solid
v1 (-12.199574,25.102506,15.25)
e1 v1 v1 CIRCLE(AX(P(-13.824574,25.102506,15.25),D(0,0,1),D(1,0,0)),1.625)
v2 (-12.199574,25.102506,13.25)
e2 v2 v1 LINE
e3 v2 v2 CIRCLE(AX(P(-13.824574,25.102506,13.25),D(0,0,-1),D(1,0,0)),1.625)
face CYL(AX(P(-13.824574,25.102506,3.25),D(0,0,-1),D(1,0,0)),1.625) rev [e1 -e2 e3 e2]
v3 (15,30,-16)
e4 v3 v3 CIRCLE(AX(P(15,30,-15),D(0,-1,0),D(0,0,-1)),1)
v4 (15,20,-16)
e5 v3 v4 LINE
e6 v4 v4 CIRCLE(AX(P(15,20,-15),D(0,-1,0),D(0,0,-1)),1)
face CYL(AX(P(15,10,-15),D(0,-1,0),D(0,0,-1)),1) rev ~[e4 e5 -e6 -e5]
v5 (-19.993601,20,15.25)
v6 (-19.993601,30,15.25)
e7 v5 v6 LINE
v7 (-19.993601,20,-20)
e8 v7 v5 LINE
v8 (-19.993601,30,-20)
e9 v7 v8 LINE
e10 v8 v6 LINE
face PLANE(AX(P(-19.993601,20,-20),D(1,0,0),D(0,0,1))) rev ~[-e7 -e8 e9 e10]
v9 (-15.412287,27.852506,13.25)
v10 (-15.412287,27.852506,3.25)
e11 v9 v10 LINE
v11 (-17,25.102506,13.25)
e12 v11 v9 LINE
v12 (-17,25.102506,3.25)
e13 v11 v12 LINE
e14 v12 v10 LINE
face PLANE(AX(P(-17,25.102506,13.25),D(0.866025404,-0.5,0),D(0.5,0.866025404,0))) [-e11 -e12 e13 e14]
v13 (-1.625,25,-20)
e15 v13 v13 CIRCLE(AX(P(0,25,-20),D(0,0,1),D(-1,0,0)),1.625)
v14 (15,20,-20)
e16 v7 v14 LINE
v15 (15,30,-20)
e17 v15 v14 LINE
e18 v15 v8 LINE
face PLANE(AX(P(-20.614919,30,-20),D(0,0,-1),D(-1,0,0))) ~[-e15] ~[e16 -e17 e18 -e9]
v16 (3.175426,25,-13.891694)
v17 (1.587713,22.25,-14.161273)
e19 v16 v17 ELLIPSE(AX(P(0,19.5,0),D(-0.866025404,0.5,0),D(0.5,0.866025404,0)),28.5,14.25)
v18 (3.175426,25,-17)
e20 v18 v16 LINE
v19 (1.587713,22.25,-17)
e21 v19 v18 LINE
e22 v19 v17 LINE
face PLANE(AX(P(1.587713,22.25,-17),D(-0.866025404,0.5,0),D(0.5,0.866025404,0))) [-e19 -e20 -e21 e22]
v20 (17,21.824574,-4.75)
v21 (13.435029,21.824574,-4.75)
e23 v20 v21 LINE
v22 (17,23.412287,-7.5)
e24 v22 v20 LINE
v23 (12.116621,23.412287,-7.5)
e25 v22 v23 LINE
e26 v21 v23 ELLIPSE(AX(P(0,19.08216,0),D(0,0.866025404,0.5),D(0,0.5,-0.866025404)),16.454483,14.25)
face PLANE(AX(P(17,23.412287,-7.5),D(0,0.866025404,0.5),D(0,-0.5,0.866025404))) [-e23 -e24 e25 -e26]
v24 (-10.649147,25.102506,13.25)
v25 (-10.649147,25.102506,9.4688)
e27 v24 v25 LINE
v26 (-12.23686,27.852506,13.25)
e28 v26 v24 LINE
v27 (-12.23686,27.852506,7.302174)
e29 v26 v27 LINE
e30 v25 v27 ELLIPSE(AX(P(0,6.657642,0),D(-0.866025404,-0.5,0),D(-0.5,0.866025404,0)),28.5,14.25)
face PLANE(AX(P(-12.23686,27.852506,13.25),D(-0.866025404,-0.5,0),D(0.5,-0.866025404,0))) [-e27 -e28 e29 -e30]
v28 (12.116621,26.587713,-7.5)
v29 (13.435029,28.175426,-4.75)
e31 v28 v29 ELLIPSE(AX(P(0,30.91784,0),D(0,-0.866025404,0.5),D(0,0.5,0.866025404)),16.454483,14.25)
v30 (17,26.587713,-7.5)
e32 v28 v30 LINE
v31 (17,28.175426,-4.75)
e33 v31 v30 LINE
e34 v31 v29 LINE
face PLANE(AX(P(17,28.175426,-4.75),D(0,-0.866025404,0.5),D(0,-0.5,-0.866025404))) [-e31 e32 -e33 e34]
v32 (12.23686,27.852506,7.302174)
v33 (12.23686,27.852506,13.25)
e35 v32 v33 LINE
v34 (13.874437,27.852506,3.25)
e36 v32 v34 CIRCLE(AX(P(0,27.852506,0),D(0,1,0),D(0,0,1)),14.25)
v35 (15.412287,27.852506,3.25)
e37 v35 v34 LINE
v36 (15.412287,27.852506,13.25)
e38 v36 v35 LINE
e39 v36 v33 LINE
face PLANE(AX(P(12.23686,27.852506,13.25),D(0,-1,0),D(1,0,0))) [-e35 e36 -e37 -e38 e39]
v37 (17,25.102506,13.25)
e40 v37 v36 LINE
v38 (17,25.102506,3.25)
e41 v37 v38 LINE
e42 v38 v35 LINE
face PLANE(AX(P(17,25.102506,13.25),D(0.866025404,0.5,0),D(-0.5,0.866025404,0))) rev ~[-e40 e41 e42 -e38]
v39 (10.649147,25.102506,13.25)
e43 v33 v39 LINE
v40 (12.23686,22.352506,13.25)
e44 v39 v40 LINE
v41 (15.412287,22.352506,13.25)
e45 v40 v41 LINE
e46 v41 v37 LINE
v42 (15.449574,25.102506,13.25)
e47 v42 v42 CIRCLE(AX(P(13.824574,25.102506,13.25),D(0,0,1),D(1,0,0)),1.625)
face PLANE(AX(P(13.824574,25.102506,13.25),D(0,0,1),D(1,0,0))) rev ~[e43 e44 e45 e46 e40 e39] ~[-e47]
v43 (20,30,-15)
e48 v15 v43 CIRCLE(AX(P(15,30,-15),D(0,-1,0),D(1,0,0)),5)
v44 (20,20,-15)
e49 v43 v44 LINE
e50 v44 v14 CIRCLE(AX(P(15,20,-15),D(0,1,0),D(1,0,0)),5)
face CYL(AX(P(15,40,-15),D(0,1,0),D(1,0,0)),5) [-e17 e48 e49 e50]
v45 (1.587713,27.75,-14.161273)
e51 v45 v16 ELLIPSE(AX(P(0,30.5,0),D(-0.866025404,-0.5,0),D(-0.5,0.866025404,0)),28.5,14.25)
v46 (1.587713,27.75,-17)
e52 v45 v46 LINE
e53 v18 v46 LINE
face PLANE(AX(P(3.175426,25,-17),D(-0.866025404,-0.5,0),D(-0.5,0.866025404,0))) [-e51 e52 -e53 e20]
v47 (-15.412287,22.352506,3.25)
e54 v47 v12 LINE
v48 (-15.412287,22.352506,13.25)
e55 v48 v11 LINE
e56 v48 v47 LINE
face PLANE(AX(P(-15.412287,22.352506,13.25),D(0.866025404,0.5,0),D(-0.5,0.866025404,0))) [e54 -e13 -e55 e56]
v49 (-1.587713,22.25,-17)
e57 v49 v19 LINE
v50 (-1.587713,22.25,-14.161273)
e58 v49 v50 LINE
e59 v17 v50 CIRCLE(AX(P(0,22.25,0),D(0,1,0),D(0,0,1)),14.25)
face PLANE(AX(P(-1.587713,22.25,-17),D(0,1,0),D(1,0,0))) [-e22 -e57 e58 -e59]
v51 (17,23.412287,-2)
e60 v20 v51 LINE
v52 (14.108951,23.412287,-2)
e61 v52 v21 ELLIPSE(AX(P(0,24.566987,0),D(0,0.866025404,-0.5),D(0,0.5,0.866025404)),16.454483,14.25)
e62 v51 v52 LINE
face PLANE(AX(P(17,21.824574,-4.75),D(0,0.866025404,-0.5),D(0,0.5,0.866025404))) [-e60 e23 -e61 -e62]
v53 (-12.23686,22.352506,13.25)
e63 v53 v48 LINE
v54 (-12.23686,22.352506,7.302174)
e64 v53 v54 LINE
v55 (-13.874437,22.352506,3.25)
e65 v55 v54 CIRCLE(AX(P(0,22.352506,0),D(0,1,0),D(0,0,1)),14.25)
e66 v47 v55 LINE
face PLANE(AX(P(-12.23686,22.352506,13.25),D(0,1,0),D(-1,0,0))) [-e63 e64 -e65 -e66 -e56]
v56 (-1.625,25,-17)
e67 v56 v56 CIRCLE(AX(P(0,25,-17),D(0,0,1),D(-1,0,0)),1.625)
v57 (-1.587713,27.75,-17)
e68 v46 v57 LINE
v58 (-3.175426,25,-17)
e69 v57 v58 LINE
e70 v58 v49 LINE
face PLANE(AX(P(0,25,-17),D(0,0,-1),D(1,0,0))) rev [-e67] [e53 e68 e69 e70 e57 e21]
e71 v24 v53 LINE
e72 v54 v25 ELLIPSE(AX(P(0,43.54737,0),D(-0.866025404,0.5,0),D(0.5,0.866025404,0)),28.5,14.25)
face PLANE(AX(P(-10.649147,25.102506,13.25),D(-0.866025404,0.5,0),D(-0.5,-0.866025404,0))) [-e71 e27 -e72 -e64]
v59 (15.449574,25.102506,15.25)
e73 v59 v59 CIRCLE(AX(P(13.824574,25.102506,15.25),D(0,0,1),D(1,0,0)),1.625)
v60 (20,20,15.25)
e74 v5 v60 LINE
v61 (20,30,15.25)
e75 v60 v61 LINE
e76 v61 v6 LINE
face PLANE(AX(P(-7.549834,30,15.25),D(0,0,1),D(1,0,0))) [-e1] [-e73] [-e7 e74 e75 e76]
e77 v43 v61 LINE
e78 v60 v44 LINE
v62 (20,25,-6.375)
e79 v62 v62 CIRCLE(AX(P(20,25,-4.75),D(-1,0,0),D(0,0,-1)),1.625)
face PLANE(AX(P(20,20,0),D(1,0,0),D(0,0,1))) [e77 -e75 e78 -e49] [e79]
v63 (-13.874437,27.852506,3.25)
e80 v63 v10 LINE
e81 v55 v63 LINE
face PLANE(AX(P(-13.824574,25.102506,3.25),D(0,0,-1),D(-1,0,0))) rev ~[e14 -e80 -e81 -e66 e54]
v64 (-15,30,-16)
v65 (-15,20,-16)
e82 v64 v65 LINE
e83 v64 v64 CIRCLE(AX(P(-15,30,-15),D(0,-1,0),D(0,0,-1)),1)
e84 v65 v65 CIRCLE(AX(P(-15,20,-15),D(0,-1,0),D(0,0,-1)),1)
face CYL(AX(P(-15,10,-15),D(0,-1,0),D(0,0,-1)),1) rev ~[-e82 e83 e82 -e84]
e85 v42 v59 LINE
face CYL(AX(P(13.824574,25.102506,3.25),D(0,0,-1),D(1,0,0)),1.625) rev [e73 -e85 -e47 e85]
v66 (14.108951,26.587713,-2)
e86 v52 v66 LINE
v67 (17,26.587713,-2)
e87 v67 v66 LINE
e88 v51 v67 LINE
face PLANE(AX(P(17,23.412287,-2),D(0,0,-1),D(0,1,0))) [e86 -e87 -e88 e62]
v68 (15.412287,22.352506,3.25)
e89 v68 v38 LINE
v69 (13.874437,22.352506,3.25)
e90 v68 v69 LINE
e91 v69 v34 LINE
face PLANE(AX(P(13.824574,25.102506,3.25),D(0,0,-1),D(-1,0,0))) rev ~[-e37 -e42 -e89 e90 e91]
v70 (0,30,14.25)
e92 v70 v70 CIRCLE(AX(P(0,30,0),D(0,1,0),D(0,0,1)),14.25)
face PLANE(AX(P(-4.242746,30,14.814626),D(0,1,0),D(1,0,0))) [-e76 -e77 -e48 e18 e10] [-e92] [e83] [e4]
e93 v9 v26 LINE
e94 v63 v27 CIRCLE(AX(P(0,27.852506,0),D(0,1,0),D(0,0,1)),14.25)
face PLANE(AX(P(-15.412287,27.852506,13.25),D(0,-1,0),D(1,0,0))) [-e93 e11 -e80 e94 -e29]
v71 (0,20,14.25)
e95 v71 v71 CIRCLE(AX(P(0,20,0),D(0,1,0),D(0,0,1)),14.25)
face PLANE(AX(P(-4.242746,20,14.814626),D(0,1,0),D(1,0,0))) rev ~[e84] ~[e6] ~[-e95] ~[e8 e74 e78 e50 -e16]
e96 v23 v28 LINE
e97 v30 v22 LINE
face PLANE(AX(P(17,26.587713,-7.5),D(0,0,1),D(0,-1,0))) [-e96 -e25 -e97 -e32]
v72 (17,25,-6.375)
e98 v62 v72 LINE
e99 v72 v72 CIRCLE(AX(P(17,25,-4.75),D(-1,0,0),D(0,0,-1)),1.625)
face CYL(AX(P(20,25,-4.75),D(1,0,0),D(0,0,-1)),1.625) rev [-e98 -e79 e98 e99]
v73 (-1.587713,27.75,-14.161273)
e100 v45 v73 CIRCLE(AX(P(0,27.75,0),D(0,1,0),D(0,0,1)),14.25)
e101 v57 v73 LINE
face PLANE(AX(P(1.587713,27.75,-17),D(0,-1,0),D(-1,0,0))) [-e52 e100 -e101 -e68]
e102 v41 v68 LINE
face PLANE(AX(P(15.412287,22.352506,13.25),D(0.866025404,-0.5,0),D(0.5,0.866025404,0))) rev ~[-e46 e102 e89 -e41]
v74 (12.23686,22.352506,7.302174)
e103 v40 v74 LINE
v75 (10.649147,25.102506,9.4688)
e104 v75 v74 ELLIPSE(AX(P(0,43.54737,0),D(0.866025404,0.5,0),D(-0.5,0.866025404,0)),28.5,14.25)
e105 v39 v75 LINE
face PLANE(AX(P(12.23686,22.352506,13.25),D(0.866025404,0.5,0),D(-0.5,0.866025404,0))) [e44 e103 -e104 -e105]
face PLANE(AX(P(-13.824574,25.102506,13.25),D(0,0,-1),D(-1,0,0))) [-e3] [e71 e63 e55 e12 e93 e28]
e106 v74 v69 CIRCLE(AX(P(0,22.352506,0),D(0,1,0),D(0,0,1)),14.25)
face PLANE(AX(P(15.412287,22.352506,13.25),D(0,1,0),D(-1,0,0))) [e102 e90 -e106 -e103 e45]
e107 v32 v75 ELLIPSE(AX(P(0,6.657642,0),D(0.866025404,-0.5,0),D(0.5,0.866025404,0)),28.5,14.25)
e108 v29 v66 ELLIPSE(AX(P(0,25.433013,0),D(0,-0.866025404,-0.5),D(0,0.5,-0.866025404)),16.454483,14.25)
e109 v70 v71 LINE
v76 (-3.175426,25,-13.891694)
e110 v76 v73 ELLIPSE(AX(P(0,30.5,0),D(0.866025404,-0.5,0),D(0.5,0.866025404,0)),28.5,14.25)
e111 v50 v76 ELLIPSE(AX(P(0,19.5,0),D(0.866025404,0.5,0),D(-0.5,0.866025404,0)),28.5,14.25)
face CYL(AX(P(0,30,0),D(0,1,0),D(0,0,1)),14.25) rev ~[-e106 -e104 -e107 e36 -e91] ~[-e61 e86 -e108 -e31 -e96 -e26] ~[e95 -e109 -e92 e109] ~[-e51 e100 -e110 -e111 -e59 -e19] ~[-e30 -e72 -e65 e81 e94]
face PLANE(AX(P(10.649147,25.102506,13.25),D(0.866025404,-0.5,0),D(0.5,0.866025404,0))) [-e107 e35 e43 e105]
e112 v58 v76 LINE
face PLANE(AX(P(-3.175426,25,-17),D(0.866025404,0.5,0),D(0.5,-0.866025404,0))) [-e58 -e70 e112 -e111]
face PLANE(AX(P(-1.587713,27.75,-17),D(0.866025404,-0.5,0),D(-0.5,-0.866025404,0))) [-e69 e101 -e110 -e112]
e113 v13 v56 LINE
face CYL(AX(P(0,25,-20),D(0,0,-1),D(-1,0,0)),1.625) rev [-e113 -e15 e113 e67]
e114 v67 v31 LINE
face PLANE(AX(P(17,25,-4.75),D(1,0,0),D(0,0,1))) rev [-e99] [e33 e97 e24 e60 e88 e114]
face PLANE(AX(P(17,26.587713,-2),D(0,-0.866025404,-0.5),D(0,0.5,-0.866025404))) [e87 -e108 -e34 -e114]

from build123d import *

# Parameters (mm, degrees)
CROQUIS1_R                              = 15.25
CROQUIS1_R_2                            = 2.125
SOPORTE_CAJA_REDUCTORA_DEPTH            = 20
CROQUIS3_R                              = 2.125
CORTAR_EXTRUIR1_DEPTH                   = 51.423828692
REDONDEO1_R                             = 5
BOSS_EXTRUDE1_DEPTH                     = 20
CUT_EXTRUDE1_REACH                      = 55.852
SKETCH2_R                               = 1.625
CUT_EXTRUDE2_DEPTH                      = 2
SKETCH4_R                               = 1.625
CUT_EXTRUDE3_DEPTH                      = 63.291652731
CUT_EXTRUDE4_START                      = -4.5
CUT_EXTRUDE4_DEPTH                      = 2
CROQUIS6_W                              = 4.75
CROQUIS6_H                              = 4.75
CORTAR_EXTRUIR17_DEPTH                  = 42.231056256
CROQUIS7_W                              = 60
CROQUIS7_H                              = 20
CORTAR_EXTRUIR18_DEPTH                  = 51.423828692
SALIENTE_EXTRUIR2_DEPTH                 = 49
SOPORTE_START                           = -15
SOPORTE_MOTOR_DEPTH                     = 15
CROQUIS12_R                             = 2.125
AGUJEROS_DE_SUJECION_A_BASE_DEPTH       = 84.087679592
TUERCA_START                            = -4
TUERCA_AGUJERO_DE_SUJECION_A_BASE_DEPTH = 10
SALIENTE_EXTRUIR4_DEPTH                 = 15
CORTAR_EXTRUIR19_DEPTH                  = 25
CROQUIS14_W                             = 50
CROQUIS14_H                             = 118
CORTAR_EXTRUIR22_DEPTH                  = 146.556045907
CROQUIS15_W                             = 10
CROQUIS15_H                             = 7
CORTAR_EXTRUIR23_DEPTH                  = 42.231056256
CORTAR_EXTRUIR24_DEPTH                  = 42.231056256
CROQUIS18_W                             = 40
CROQUIS18_H                             = 10
CORTAR_EXTRUIR25_DEPTH                  = 44.27311521
SALIENTE_EXTRUIR5_DEPTH                 = 10
CROQUIS20_R                             = 1
CORTAR_EXTRUIR26_DEPTH                  = 49.229270158
CORTAR_EXTRUIR27_REACH                  = 62.959
CORTAR_EXTRUIR27_END_RADIUS             = 15.25
CROQUIS21_R                             = 1.625
CROQUIS22_R                             = 2.125
CROQUIS22_R_2                           = 1
SALIENTE_EXTRUIR6_DEPTH                 = 10
CROQUIS23_R                             = 1.625
CORTAR_EXTRUIR28_DEPTH                  = 52.269508521
CORTAR_EXTRUIR29_START                  = -3
CORTAR_EXTRUIR29_DEPTH                  = 10
SALIENTE_EXTRUIR7_DEPTH                 = 10
CORTAR_EXTRUIR30_REACH                  = 72.235
CROQUIS27_R                             = 1.625
CORTAR_EXTRUIR31_REACH                  = 75.235
CORTAR_EXTRUIR31_START                  = -3
CORTAR_EXTRUIR32_REACH                  = 58.612
CROQUIS29_R                             = 1.625
CORTAR_EXTRUIR33_REACH                  = 61.112
CORTAR_EXTRUIR33_START                  = -2.5
CROQUIS35_W                             = 13.305418987
CROQUIS35_H                             = 6.826864192
CORTAR_EXTRUIR34_DEPTH                  = 63.931555098
CORTAR_EXTRUIR34_DEPTH_BACK             = 63.931555098
CORTAR_EXTRUIR35_START                  = -3
CORTAR_EXTRUIR35_DEPTH                  = 10
SALIENTE_EXTRUIR8_DEPTH                 = 10
SALIENTE_EXTRUIR9_DEPTH                 = 13
SALIENTE_EXTRUIR10_DEPTH                = 3
CROQUIS40_W                             = 106.583537839
CROQUIS40_H                             = 47.391515964
CORTAR_EXTRUIR36_DEPTH                  = 80.887064817
CORTAR_EXTRUIR36_DEPTH_BACK             = 80.887064817
CORTAR_EXTRUIR37_DEPTH                  = 67.2524009
CORTAR_EXTRUIR37_DEPTH_BACK             = 67.2524009
CORTAR_EXTRUIR38_DEPTH                  = 79.704784639
CORTAR_EXTRUIR38_DEPTH_BACK             = 79.704784639
SALIENTE_EXTRUIR11_DEPTH                = 10
CORTAR_EXTRUIR39_DEPTH                  = 63.9908649
CROQUIS45_W                             = 31.470301378
CROQUIS45_H                             = 10
CROQUIS45_R                             = 1.625
SALIENTE_EXTRUIR12_DEPTH                = 2.5
SALIENTE_EXTRUIR13_DEPTH                = 10
CORTAR_EXTRUIR40_START                  = -2
CROQUIS47_R                             = 1.625
CORTAR_EXTRUIR40_DEPTH                  = 10
CORTAR_EXTRUIR41_START                  = -12
CROQUIS48_R                             = 1.625
CORTAR_EXTRUIR41_DEPTH                  = 12
CROQUIS49_W                             = 34.796066513
CROQUIS49_H                             = 42.211026982
CORTAR_EXTRUIR42_DEPTH                  = 52.795622989
CORTAR_EXTRUIR42_DEPTH_BACK             = 52.795622989
CROQUIS51_R                             = 15.25
CROQUIS51_R_2                           = 14.25
SALIENTE_EXTRUIR14_DEPTH                = 10
CORTAR_EXTRUIR43_DEPTH                  = 10
CORTAR_EXTRUIR44_DEPTH                  = 10
CORTAR_EXTRUIR45_DEPTH                  = 10
SALIENTE_EXTRUIR15_DEPTH                = 10


with BuildPart() as part:
    # Croquis1 → Soporte caja reductora (new body)
    with BuildSketch(Plane(origin=(0, 0, 0), x_dir=(1, 0, 0), z_dir=(0, 1, 0))):
        Polygon((-30, -15.25), (-20, -15.25), (-20, -20), (20, -20), (20, -15.25), (30, -15.25), (30, -7.25), (20, -4.25), (20, 20), (-20, 20), (-20, -4.25), (-30, -7.25), align=None)
        with Locations(Location((0, 0, 0), (0, 0, 270))):
            Circle(CROQUIS1_R, mode=Mode.SUBTRACT)
        with Locations(Location((-15, 15, 0), (0, 0, 270))):
            Circle(CROQUIS1_R_2, mode=Mode.SUBTRACT)
        with Locations(Location((15, 15, 0), (0, 0, 270))):
            Circle(CROQUIS1_R_2, mode=Mode.SUBTRACT)
    extrude(amount=-SOPORTE_CAJA_REDUCTORA_DEPTH)

    # Croquis3 → Cortar-Extruir1 (cut, through all)
    with BuildSketch(Plane.XY.offset(15.25)):
        with Locations((-23.5, -10)):
            Circle(CROQUIS3_R)
        with Locations((23.5, -10)):
            Circle(CROQUIS3_R)
    extrude(amount=-CORTAR_EXTRUIR1_DEPTH, mode=Mode.SUBTRACT)

    # Redondeo1
    redondeo1_edges = [part.edges().sort_by_distance(p)[0] for p in [
        (-20, -10, -20),
        (20, -10, -20),
    ]]
    fillet(redondeo1_edges, radius=REDONDEO1_R)

    # Sketch1 → Boss-Extrude1 (add)
    with BuildSketch(Plane(origin=(0, 0, 0), x_dir=(1, 0, 0), z_dir=(0, 1, 0))):
        with BuildLine():
            Line((25.5, 15), (20, 15))
            ThreePointArc((20, 15), (18.535533906, 18.535533906), (15, 20))
            Line((15, 20), (30, 20))
            Line((30, 20), (30, 8))
            Line((30, 8), (25.5, 8))
            Line((25.5, 8), (25.5, 15))
        make_face()
    extrude(amount=-BOSS_EXTRUDE1_DEPTH)

    # Sketch2 → Cut-Extrude1 (cut, up to next)
    with BuildSketch(Plane(origin=(0, 0, -20), x_dir=(-1, 0, 0), z_dir=(0, 0, -1)), mode=Mode.PRIVATE) as cut_extrude1_sk1:
        with Locations((-22.75, -10)):
            Circle(SKETCH2_R)
    cut_extrude1_tool1 = extrude(cut_extrude1_sk1.sketch, amount=-CUT_EXTRUDE1_REACH, mode=Mode.PRIVATE) & part.part
    add(cut_extrude1_tool1.solids().sort_by_distance((22.75, -10, -20))[0], mode=Mode.SUBTRACT)

    # Sketch3 → Cut-Extrude2 (cut)
    with BuildSketch(Plane.XY.offset(-15)):
        Polygon((20, -11.58771324), (22.75, -13.175426481), (25.5, -11.58771324), (25.5, -8.41228676), (22.75, -6.824573519), (20, -8.41228676), align=None)
    extrude(amount=-CUT_EXTRUDE2_DEPTH, mode=Mode.SUBTRACT)

    # Sketch4 → Cut-Extrude3 (cut, through all)
    with BuildSketch(Plane.ZY.offset(-25.5)):
        with Locations((-12.25, -10)):
            Circle(SKETCH4_R)
    extrude(amount=-CUT_EXTRUDE3_DEPTH, mode=Mode.SUBTRACT)

    # Sketch5 → Cut-Extrude4 (cut)
    with BuildSketch(Plane(origin=(30, 0, 0), x_dir=(0, 0, -1), z_dir=(1, 0, 0)).offset(CUT_EXTRUDE4_START)):
        Polygon((15, -11.58771324), (15, -8.41228676), (12.25, -6.824573519), (9.5, -8.41228676), (9.5, -11.58771324), (12.25, -13.175426481), align=None)
    extrude(amount=CUT_EXTRUDE4_DEPTH, mode=Mode.SUBTRACT)

    # Croquis6 → Cortar-Extruir17 (cut, through all)
    with BuildSketch(Plane(origin=(0, 0, 0), x_dir=(1, 0, 0), z_dir=(0, 1, 0))):
        Polygon((0, -15.25), (-15.25, -15.25), (-15.25, -20), (15.25, -20), (15.25, -15.25), align=None)
        with Locations((-17.625, -17.625)):
            Rectangle(CROQUIS6_W, CROQUIS6_H)
        with BuildLine():
            ThreePointArc((0, -15.25), (-10.783378413, -10.783378413), (-15.25, 0))
            Line((-15.25, 0), (-15.25, -15.25))
            Line((-15.25, -15.25), (0, -15.25))
        make_face()
        with BuildLine():
            Line((15.25, -15.25), (15.25, 0))
            ThreePointArc((15.25, 0), (10.783378413, -10.783378413), (0, -15.25))
            Line((0, -15.25), (15.25, -15.25))
        make_face()
        with Locations((17.625, -17.625)):
            Rectangle(CROQUIS6_W, CROQUIS6_H)
    extrude(amount=-CORTAR_EXTRUIR17_DEPTH, mode=Mode.SUBTRACT)


with BuildPart() as body_2:
    # Simetría1: mirrored copy
    add(part.part.mirror(Plane.ZX))

    # Croquis8 → Saliente-Extruir2 (add)
    with BuildSketch(Plane(origin=(0, 20, 0), x_dir=(1, 0, 0), z_dir=(0, 1, 0))):
        with BuildLine():
            Line((-12.664515522, 20), (-11.040489496, 13.939052358))
            Line((-11.040489496, 13.939052358), (-10.315162126, 11.232093763))
            ThreePointArc((-10.315162126, 11.232093763), (0, 15.25), (10.315162126, 11.232093763))
            Line((10.315162126, 11.232093763), (10.817418481, 13.87928066))
            Line((10.817418481, 13.87928066), (11.978715476, 20))
            Line((11.978715476, 20), (-12.664515522, 20))
        make_face()
    extrude(amount=SALIENTE_EXTRUIR2_DEPTH)

    # Croquis9 → Soporte motor (add)
    with BuildSketch(Plane(origin=(0, 69, 0), x_dir=(1, 0, 0), z_dir=(0, 1, 0)).offset(SOPORTE_START)):
        with BuildLine():
            Line((-20, 15), (-20, -4.25))
            Line((-20, -4.25), (-30, -7.25))
            Line((-30, -7.25), (-30, -15.25))
            Line((-30, -15.25), (0, -15.25))
            Line((0, -15.25), (0, -14.75))
            ThreePointArc((0, -14.75), (-10.429825023, 10.429825023), (14.75, 0))
            Line((14.75, 0), (20, 0))
            Line((20, 0), (20, 13.936837101))
            Line((20, 13.936837101), (12.664515522, 20))
            Line((12.664515522, 20), (-15, 20))
            ThreePointArc((-15, 20), (-18.535533906, 18.535533906), (-20, 15))
        make_face()
    extrude(amount=-SOPORTE_MOTOR_DEPTH)

    # Croquis12 → Agujeros de sujecion a base (cut, through all)
    with BuildSketch(Plane.XY.offset(15.25)):
        with Locations((-23.5, 46.5)):
            Circle(CROQUIS12_R)
    extrude(amount=-AGUJEROS_DE_SUJECION_A_BASE_DEPTH, mode=Mode.SUBTRACT)

    # Croquis13 → Tuerca Agujero de sujecion a base (cut)
    with BuildSketch(Plane.XY.offset(15.25).offset(TUERCA_START)):
        Polygon((-20, 44.479274058), (-20, 48.520725942), (-23.5, 50.541451884), (-27, 48.520725942), (-27, 44.479274058), (-23.5, 42.458548116), align=None)
    extrude(amount=-TUERCA_AGUJERO_DE_SUJECION_A_BASE_DEPTH, mode=Mode.SUBTRACT)

    # Croquis10 → Saliente-Extruir4 (add)
    with BuildSketch(Plane(origin=(0, 69, 0), x_dir=(1, 0, 0), z_dir=(0, 1, 0))):
        with BuildLine():
            ThreePointArc((10.315162126, 11.232093763), (0, 15.25), (-10.315162126, 11.232093763))
            Line((-10.315162126, 11.232093763), (-10.16850369, 10.684757026))
            ThreePointArc((-10.16850369, 10.684757026), (0, 14.75), (10.16850369, 10.684757026))
            Line((10.16850369, 10.684757026), (10.315162126, 11.232093763))
        make_face()
    extrude(amount=-SALIENTE_EXTRUIR4_DEPTH)

    # Croquis11 → Cortar-Extruir19 (cut)
    with BuildSketch(Plane.XZ):
        with BuildLine():
            Line((15.25, 4.25), (20, 4.25))
            Line((20, 4.25), (21.972856468, 4.84185694))
            ThreePointArc((21.972856468, 4.84185694), (19.948931102, 10.40625523), (16.543503257, 15.25))
            Line((16.543503257, 15.25), (15.25, 15.25))
            Line((15.25, 15.25), (15.25, 4.25))
        make_face()
        with BuildLine():
            Line((21.972856468, 4.84185694), (30, 7.25))
            Line((30, 7.25), (30, 15.25))
            Line((30, 15.25), (16.543503257, 15.25))
            ThreePointArc((16.543503257, 15.25), (19.948931102, 10.40625523), (21.972856468, 4.84185694))
        make_face()
        with BuildLine():
            ThreePointArc((20, -15), (18.535533906, -18.535533906), (15, -20))
            Line((15, -20), (30, -20))
            Line((30, -20), (30, -8))
            Line((30, -8), (25.5, -8))
            Line((25.5, -8), (25.5, -15))
            Line((25.5, -15), (20, -15))
        make_face()
    extrude(amount=-CORTAR_EXTRUIR19_DEPTH, mode=Mode.SUBTRACT)

    # Simetría2: body 2 across face


with BuildPart() as part_1:
    add(part.part)

    # Croquis7 → Cortar-Extruir18 (cut, through all)
    with BuildSketch(Plane(origin=(0, 0, -20), x_dir=(-1, 0, 0), z_dir=(0, 0, -1))):
        with Locations((0, -10)):
            Rectangle(CROQUIS7_W, CROQUIS7_H)
    extrude(amount=-CORTAR_EXTRUIR18_DEPTH, mode=Mode.SUBTRACT)


with BuildPart() as body_2_1:
    add(body_2.part)
    add(body_2.part.mirror(Plane(origin=(-0.229209569, 69, -16.663998028), x_dir=(0, 0, 1), z_dir=(0, 1, 0))))

    # Croquis14 → Cortar-Extruir22 (cut, through all)
    with BuildSketch(Plane.XY.offset(15.25)):
        with Locations((-5, 79)):
            Rectangle(CROQUIS14_W, CROQUIS14_H)
    extrude(amount=-CORTAR_EXTRUIR22_DEPTH, mode=Mode.SUBTRACT)

    # Croquis15 → Cortar-Extruir23 (cut, through all)
    with BuildSketch(Plane.XZ):
        with Locations((-25, 7.75)):
            Rectangle(CROQUIS15_W, CROQUIS15_H)
    extrude(amount=-CORTAR_EXTRUIR23_DEPTH, mode=Mode.SUBTRACT)

    # Croquis16 → Cortar-Extruir24 (cut, through all)
    with BuildSketch(Plane.XZ):
        Polygon((-30, 15.25), (-15.25, 15.25), (-15.25, 12.75), (-20, 12.75), (-20, 11.25), (-30, 11.25), (-30, 12.75), align=None)
    extrude(amount=-CORTAR_EXTRUIR24_DEPTH, mode=Mode.SUBTRACT)

    # Croquis18 → Cortar-Extruir25 (cut, through all)
    with BuildSketch(Plane(origin=(0, 0, -20), x_dir=(-1, 0, 0), z_dir=(0, 0, -1))):
        with Locations((0, 5)):
            Rectangle(CROQUIS18_W, CROQUIS18_H)
    extrude(amount=-CORTAR_EXTRUIR25_DEPTH, mode=Mode.SUBTRACT)

    # Croquis19 → Saliente-Extruir5 (add)
    with BuildSketch(Plane(origin=(0, 20, 0), x_dir=(1, 0, 0), z_dir=(0, 1, 0))):
        Polygon((-20, -12.75), (-34, -12.75), (-34, -7.75), (-24, -7.75), (-20, -3.75), align=None)
    extrude(amount=-SALIENTE_EXTRUIR5_DEPTH)

    # Croquis20 → Cortar-Extruir26 (cut, through all)
    with BuildSketch(Plane(origin=(0, 0, 7.75), x_dir=(-1, 0, 0), z_dir=(0, 0, -1))):
        with Locations((29, 15)):
            Circle(CROQUIS20_R)
    extrude(amount=-CORTAR_EXTRUIR26_DEPTH, mode=Mode.SUBTRACT)

    # Cortar-Extruir27: up to this cylinder (the profile starts outside it)
    cortar_extruir27_end = Plane(origin=(0, 15, 0), z_dir=(0, -1, 0)) * Cylinder(CORTAR_EXTRUIR27_END_RADIUS, 157.418, mode=Mode.PRIVATE)
    # Croquis21 → Cortar-Extruir27 (cut, up to the surface)
    with BuildSketch(Plane(origin=(20, 0, 0), x_dir=(0, 0, -1), z_dir=(1, 0, 0)), mode=Mode.PRIVATE) as cortar_extruir27_sk1:
        with Locations((4.75, 15)):
            Circle(CROQUIS21_R)
    cortar_extruir27_tool1 = extrude(cortar_extruir27_sk1.sketch, amount=-CORTAR_EXTRUIR27_REACH, mode=Mode.PRIVATE) - cortar_extruir27_end
    add(cortar_extruir27_tool1.solids().sort_by_distance((20, 15, -4.75))[0], mode=Mode.SUBTRACT)

    # Croquis22 → Saliente-Extruir6 (add)
    with BuildSketch(Plane.XZ.offset(-10)):
        with Locations((-15, -15)):
            Circle(CROQUIS22_R)
        with Locations(Location((-15, -15, 0), (0, 0, 270))):
            Circle(CROQUIS22_R_2, mode=Mode.SUBTRACT)
        with Locations((15, -15)):
            Circle(CROQUIS22_R)
        with Locations(Location((15, -15, 0), (0, 0, 270))):
            Circle(CROQUIS22_R_2, mode=Mode.SUBTRACT)
    extrude(amount=-SALIENTE_EXTRUIR6_DEPTH)

    # Croquis23 → Cortar-Extruir28 (cut, through all)
    with BuildSketch(Plane(origin=(0, 0, -20), x_dir=(-1, 0, 0), z_dir=(0, 0, -1))):
        with Locations((0, 15)):
            Circle(CROQUIS23_R)
    extrude(amount=-CORTAR_EXTRUIR28_DEPTH, mode=Mode.SUBTRACT)

    # Croquis24 → Cortar-Extruir29 (cut)
    with BuildSketch(Plane(origin=(0, 0, -20), x_dir=(-1, 0, 0), z_dir=(0, 0, -1)).offset(CORTAR_EXTRUIR29_START)):
        Polygon((1.58771324, 12.25), (3.175426481, 15), (1.58771324, 17.75), (-1.58771324, 17.75), (-3.175426481, 15), (-1.58771324, 12.25), align=None)
    extrude(amount=-CORTAR_EXTRUIR29_DEPTH, mode=Mode.SUBTRACT)

    # Croquis26 → Saliente-Extruir7 (add)
    with BuildSketch(Plane.XZ.offset(-10)):
        Polygon((-34, 7.75), (-34, 12.75), (-58.825, 12.75), (-39.160527763, -4.104491148), (-20, -4.104491148), (-20, -0.104491148), (-35.732113118, -0.104491148), (-29, 7.75), align=None)
        Polygon((-34.268209086, 7.75), (-39.594516123, 1.535690951), (-46.844874897, 7.75), align=None, mode=Mode.SUBTRACT)
    extrude(amount=-SALIENTE_EXTRUIR7_DEPTH)

    # Croquis27 → Cortar-Extruir30 (cut, up to next)
    with BuildSketch(Plane.XY.offset(12.75), mode=Mode.PRIVATE) as cortar_extruir30_sk1:
        with Locations((-40.544874897, 15)):
            Circle(CROQUIS27_R)
    cortar_extruir30_tool1 = extrude(cortar_extruir30_sk1.sketch, amount=-CORTAR_EXTRUIR30_REACH, mode=Mode.PRIVATE) & body_2_1.part
    # Croquis27 → Cortar-Extruir30 (cut, up to next)
    with BuildSketch(Plane.XY.offset(12.75), mode=Mode.PRIVATE) as cortar_extruir30_sk2:
        with Locations((-29, 15)):
            Circle(CROQUIS27_R)
    cortar_extruir30_tool2 = extrude(cortar_extruir30_sk2.sketch, amount=-CORTAR_EXTRUIR30_REACH, mode=Mode.PRIVATE) & body_2_1.part
    add(cortar_extruir30_tool1.solids().sort_by_distance((-40.544875, 15, 12.75))[0], mode=Mode.SUBTRACT)
    add(cortar_extruir30_tool2.solids().sort_by_distance((-29, 15, 12.75))[0], mode=Mode.SUBTRACT)

    # Croquis28 → Cortar-Extruir31 (cut, up to next)
    with BuildSketch(Plane.XY.offset(12.75).offset(CORTAR_EXTRUIR31_START), mode=Mode.PRIVATE) as cortar_extruir31_sk1:
        Polygon((-38.957161657, 12.25), (-37.369448416, 15), (-38.957161657, 17.75), (-42.132588137, 17.75), (-43.720301378, 15), (-42.132588137, 12.25), align=None)
    cortar_extruir31_tool1 = extrude(cortar_extruir31_sk1.sketch, amount=-CORTAR_EXTRUIR31_REACH, mode=Mode.PRIVATE) & body_2_1.part
    # Croquis28 → Cortar-Extruir31 (cut, up to next)
    with BuildSketch(Plane.XY.offset(12.75).offset(CORTAR_EXTRUIR31_START), mode=Mode.PRIVATE) as cortar_extruir31_sk2:
        Polygon((-27.41228676, 12.25), (-25.824573519, 15), (-27.41228676, 17.75), (-30.58771324, 17.75), (-32.175426481, 15), (-30.58771324, 12.25), align=None)
    cortar_extruir31_tool2 = extrude(cortar_extruir31_sk2.sketch, amount=-CORTAR_EXTRUIR31_REACH, mode=Mode.PRIVATE) & body_2_1.part
    add(cortar_extruir31_tool1.solids().sort_by_distance((-40.544875, 15, 9.75))[0], mode=Mode.SUBTRACT)
    add(cortar_extruir31_tool2.solids().sort_by_distance((-29, 15, 9.75))[0], mode=Mode.SUBTRACT)

    # Croquis29 → Cortar-Extruir32 (cut, up to next)
    with BuildSketch(Plane(origin=(-18.612848159, 0, -21.715982563), x_dir=(-0.7592713073348843, 0, 0.6507742172658468), z_dir=(-0.6507742172658468, 0, -0.7592713073348843)), mode=Mode.PRIVATE) as cortar_extruir32_sk1:
        with Locations((33.812368097, 15)):
            Circle(CROQUIS29_R)
    cortar_extruir32_tool1 = extrude(cortar_extruir32_sk1.sketch, amount=-CORTAR_EXTRUIR32_REACH, mode=Mode.PRIVATE) & body_2_1.part
    add(cortar_extruir32_tool1.solids().sort_by_distance((-44.285609, 15, 0.288235))[0], mode=Mode.SUBTRACT)

    # Croquis31 → Cortar-Extruir33 (cut, up to next)
    with BuildSketch(Plane(origin=(-18.612848159, 0, -21.715982563), x_dir=(-0.7592713073348843, 0, 0.6507742172658468), z_dir=(-0.6507742172658468, 0, -0.7592713073348843)).offset(CORTAR_EXTRUIR33_START), mode=Mode.PRIVATE) as cortar_extruir33_sk1:
        Polygon((36.562368097, 16.58771324), (33.812368097, 18.175426481), (31.062368097, 16.58771324), (31.062368097, 13.41228676), (33.812368097, 11.824573519), (36.562368097, 13.41228676), align=None)
    cortar_extruir33_tool1 = extrude(cortar_extruir33_sk1.sketch, amount=-CORTAR_EXTRUIR33_REACH, mode=Mode.PRIVATE) & body_2_1.part
    add(cortar_extruir33_tool1.solids().sort_by_distance((-42.658674, 15, 2.186413))[0], mode=Mode.SUBTRACT)

    # Croquis35 → Cortar-Extruir34 (cut, two sides)
    with BuildSketch(Plane(origin=(0, 20, 0), x_dir=(1, 0, 0), z_dir=(0, 1, 0))) as cortar_extruir34_sk:
        with Locations((17.04227466, -3.413432096)):
            Rectangle(CROQUIS35_W, CROQUIS35_H)
    extrude(amount=CORTAR_EXTRUIR34_DEPTH, mode=Mode.SUBTRACT)
    extrude(cortar_extruir34_sk.sketch, amount=-CORTAR_EXTRUIR34_DEPTH_BACK, mode=Mode.SUBTRACT)

    # Croquis36 → Cortar-Extruir35 (cut)
    with BuildSketch(Plane(origin=(20, 0, 0), x_dir=(0, 0, -1), z_dir=(1, 0, 0)).offset(CORTAR_EXTRUIR35_START)):
        Polygon((7.5, 16.58771324), (4.75, 18.175426481), (2, 16.58771324), (2, 13.41228676), (4.75, 11.824573519), (7.5, 13.41228676), align=None)
    extrude(amount=-CORTAR_EXTRUIR35_DEPTH, mode=Mode.SUBTRACT)

    # Croquis37 → Saliente-Extruir8 (add)
    with BuildSketch(Plane.XZ.offset(-10)):
        Polygon((-39.160527763, -4.104491148), (-20.614919368, -20), (-15, -20), (-19.558128305, -15.637570403), (-33.014002756, -4.104491148), align=None)
    extrude(amount=-SALIENTE_EXTRUIR8_DEPTH)

    # Croquis38 → Saliente-Extruir9 (add)
    with BuildSketch(Plane.XZ.offset(-10)):
        Polygon((-58.825, 12.75), (-38.825, 12.75), (-38.825, 9.75), (-55.324839942, 9.75), align=None)
    extrude(amount=SALIENTE_EXTRUIR9_DEPTH)

    # Croquis39 → Saliente-Extruir10 (add)
    with BuildSketch(Plane.XZ.offset(-10)):
        Polygon((-38.825, 9.75), (-38.825, 7.75), (-38.825, 5.75), (-50.657959865, 5.75), (-52.991399903, 7.75), (-55.324839942, 9.75), align=None)
    extrude(amount=SALIENTE_EXTRUIR10_DEPTH)

    # Simetría3: body 2 across face


with BuildPart() as body_2_2:
    add(body_2_1.part)
    add(body_2_1.part.mirror(Plane(origin=(-18.003999227, 20, -4.220503046), x_dir=(0, 0, 1), z_dir=(0, 1, 0))))

    # Croquis40 → Cortar-Extruir36 (cut, two sides)
    with BuildSketch(Plane(origin=(0, 0, -20), x_dir=(-1, 0, 0), z_dir=(0, 0, -1))) as cortar_extruir36_sk:
        with Locations((22.395502026, -3.695757982)):
            Rectangle(CROQUIS40_W, CROQUIS40_H)
    extrude(amount=CORTAR_EXTRUIR36_DEPTH, mode=Mode.SUBTRACT)
    extrude(cortar_extruir36_sk.sketch, amount=-CORTAR_EXTRUIR36_DEPTH_BACK, mode=Mode.SUBTRACT)

    # Croquis41 → Cortar-Extruir37 (cut, two sides)
    with BuildSketch(Plane.XZ.offset(-20)) as cortar_extruir37_sk:
        Polygon((-19.992980133, -22.302484261), (-20, 3.75), (-24, 7.75), (-56.035110209, 7.75), align=None)
    extrude(amount=CORTAR_EXTRUIR37_DEPTH, mode=Mode.SUBTRACT)
    extrude(cortar_extruir37_sk.sketch, amount=-CORTAR_EXTRUIR37_DEPTH_BACK, mode=Mode.SUBTRACT)

    # Croquis42 → Cortar-Extruir38 (cut, two sides)
    with BuildSketch(Plane(origin=(0, 0, 9.75), x_dir=(-1, 0, 0), z_dir=(0, 0, -1))) as cortar_extruir38_sk:
        Polygon((46.720301378, 20), (46.720301378, 30), (38.825, 30), (33.492952769, 43.760628779), (49.525340398, 48.951442806), (67.200390695, 42.512205152), (65.906601328, 20), (51.713995885, 13.864168239), align=None)
    extrude(amount=CORTAR_EXTRUIR38_DEPTH, mode=Mode.SUBTRACT)
    extrude(cortar_extruir38_sk.sketch, amount=-CORTAR_EXTRUIR38_DEPTH_BACK, mode=Mode.SUBTRACT)

    # Croquis43 → Saliente-Extruir11 (add)
    with BuildSketch(Plane.XZ.offset(-20)):
        Polygon((-19.993600539, -20), (-46.720301378, 7.75), (-43.839252857, 10.524807997), (-17.112552018, -17.225192003), align=None)
    extrude(amount=-SALIENTE_EXTRUIR11_DEPTH)

    # Croquis44 → Cortar-Extruir39 (cut, through all)
    with BuildSketch(Plane(origin=(0, 0, 9.75), x_dir=(-1, 0, 0), z_dir=(0, 0, -1))):
        Polygon((38.957161657, 27.75), (37.369448416, 25), (38.957161657, 22.25), (42.132588137, 22.25), (43.720301378, 25), (42.132588137, 27.75), align=None)
    extrude(amount=CORTAR_EXTRUIR39_DEPTH, mode=Mode.SUBTRACT)

    # Croquis45 → Saliente-Extruir12 (add)
    with BuildSketch(Plane.XY.offset(12.75)):
        with Locations((-30.985150689, 25)):
            Rectangle(CROQUIS45_W, CROQUIS45_H)
        with Locations((-40.544874897, 25)):
            Circle(CROQUIS45_R, mode=Mode.SUBTRACT)
        with Locations((-29, 25)):
            Circle(CROQUIS45_R, mode=Mode.SUBTRACT)
    extrude(amount=SALIENTE_EXTRUIR12_DEPTH)

    # Croquis46 → Saliente-Extruir13 (add)
    with BuildSketch(Plane.XZ.offset(-20)):
        with BuildLine():
            Line((15.25, 0), (20, 0))
            Line((20, 0), (20, 15.25))
            Line((20, 15.25), (7.549834435, 15.25))
            Line((7.549834435, 15.25), (7.549834435, 13.25))
            ThreePointArc((7.549834435, 13.25), (13.185171124, 7.662490615), (15.25, 0))
        make_face()
        with BuildLine():
            Line((-15.25, 0), (-15.25, 15.25))
            Line((-15.25, 15.25), (-7.549834435, 15.25))
            Line((-7.549834435, 15.25), (-7.549834435, 13.25))
            ThreePointArc((-7.549834435, 13.25), (-13.185171124, 7.662490615), (-15.25, 0))
        make_face()
    extrude(amount=-SALIENTE_EXTRUIR13_DEPTH)

    # Croquis47 → Cortar-Extruir40 (cut)
    with BuildSketch(Plane.XY.offset(15.25).offset(CORTAR_EXTRUIR40_START)):
        Polygon((15.41228676, 22.352505966), (17, 25.102505966), (15.41228676, 27.852505966), (12.236860279, 27.852505966), (10.649147039, 25.102505966), (12.236860279, 22.352505966), align=None)
        with Locations((13.824573519, 25.102505966)):
            Circle(CROQUIS47_R, mode=Mode.SUBTRACT)
        Polygon((-12.236860279, 22.352505966), (-15.41228676, 22.352505966), (-17, 25.102505966), (-15.41228676, 27.852505966), (-12.236860279, 27.852505966), (-10.649147039, 25.102505966), align=None)
        with Locations(Location((-13.824573519, 25.102505966, 0), (0, 0, 131.421584744))):
            Circle(CROQUIS47_R, mode=Mode.SUBTRACT)
    extrude(amount=-CORTAR_EXTRUIR40_DEPTH, mode=Mode.SUBTRACT)

    # Croquis48 → Cortar-Extruir41 (cut)
    with BuildSketch(Plane.XY.offset(15.25).offset(CORTAR_EXTRUIR41_START)):
        with Locations((13.824573519, 25.102505966)):
            Circle(CROQUIS48_R)
        with Locations((-13.824573519, 25.102505966)):
            Circle(CROQUIS48_R)
    extrude(amount=CORTAR_EXTRUIR41_DEPTH, mode=Mode.SUBTRACT)

    # Croquis49 → Cortar-Extruir42 (cut, two sides)
    with BuildSketch(Plane.XZ.offset(-20)) as cortar_extruir42_sk:
        with Locations((-37.391633796, 1.105513491)):
            Rectangle(CROQUIS49_W, CROQUIS49_H)
    extrude(amount=CORTAR_EXTRUIR42_DEPTH, mode=Mode.SUBTRACT)
    extrude(cortar_extruir42_sk.sketch, amount=-CORTAR_EXTRUIR42_DEPTH_BACK, mode=Mode.SUBTRACT)

    # Croquis51 → Saliente-Extruir14 (add)
    with BuildSketch(Plane(origin=(0, 30, 0), x_dir=(1, 0, 0), z_dir=(0, 1, 0))):
        Circle(CROQUIS51_R)
        with Locations(Location((0, 0, 0), (0, 0, 270))):
            Circle(CROQUIS51_R_2, mode=Mode.SUBTRACT)
    extrude(amount=-SALIENTE_EXTRUIR14_DEPTH)

    # Croquis52 → Cortar-Extruir43 (cut)
    with BuildSketch(Plane(origin=(0, 0, 13.25), x_dir=(-1, 0, 0), z_dir=(0, 0, -1))):
        Polygon((-10.649147039, 25.102505966), (-12.236860279, 27.852505966), (-15.41228676, 27.852505966), (-17, 25.102505966), (-15.41228676, 22.352505966), (-12.236860279, 22.352505966), align=None)
        Polygon((17, 25.102505966), (15.41228676, 27.852505966), (12.236860279, 27.852505966), (10.649147039, 25.102505966), (12.236860279, 22.352505966), (15.41228676, 22.352505966), align=None)
    extrude(amount=CORTAR_EXTRUIR43_DEPTH, mode=Mode.SUBTRACT)

    # Croquis53 → Cortar-Extruir44 (cut)
    with BuildSketch(Plane.XY.offset(-17)):
        Polygon((3.175426481, 25), (1.58771324, 27.75), (-1.58771324, 27.75), (-3.175426481, 25), (-1.58771324, 22.25), (1.58771324, 22.25), align=None)
    extrude(amount=CORTAR_EXTRUIR44_DEPTH, mode=Mode.SUBTRACT)

    # Croquis54 → Cortar-Extruir45 (cut)
    with BuildSketch(Plane.ZY.offset(-17)):
        Polygon((-4.75, 28.175426481), (-7.5, 26.58771324), (-7.5, 23.41228676), (-4.75, 21.824573519), (-2, 23.41228676), (-2, 26.58771324), align=None)
    extrude(amount=CORTAR_EXTRUIR45_DEPTH, mode=Mode.SUBTRACT)

    # Croquis55 → Saliente-Extruir15 (add)
    with BuildSketch(Plane(origin=(0, 30, 0), x_dir=(1, 0, 0), z_dir=(0, 1, 0))):
        with BuildLine():
            Line((-7.549834435, -13.25), (-7.549834435, -15.25))
            Line((-7.549834435, -15.25), (0, -15.25))
            ThreePointArc((0, -15.25), (-3.905124838, -14.741522988), (-7.549834435, -13.25))
        make_face()
        with BuildLine():
            ThreePointArc((7.549834435, -13.25), (3.905124838, -14.741522988), (0, -15.25))
            Line((0, -15.25), (7.549834435, -15.25))
            Line((7.549834435, -15.25), (7.549834435, -13.25))
        make_face()
    extrude(amount=-SALIENTE_EXTRUIR15_DEPTH)


solid = body_2_2.part
